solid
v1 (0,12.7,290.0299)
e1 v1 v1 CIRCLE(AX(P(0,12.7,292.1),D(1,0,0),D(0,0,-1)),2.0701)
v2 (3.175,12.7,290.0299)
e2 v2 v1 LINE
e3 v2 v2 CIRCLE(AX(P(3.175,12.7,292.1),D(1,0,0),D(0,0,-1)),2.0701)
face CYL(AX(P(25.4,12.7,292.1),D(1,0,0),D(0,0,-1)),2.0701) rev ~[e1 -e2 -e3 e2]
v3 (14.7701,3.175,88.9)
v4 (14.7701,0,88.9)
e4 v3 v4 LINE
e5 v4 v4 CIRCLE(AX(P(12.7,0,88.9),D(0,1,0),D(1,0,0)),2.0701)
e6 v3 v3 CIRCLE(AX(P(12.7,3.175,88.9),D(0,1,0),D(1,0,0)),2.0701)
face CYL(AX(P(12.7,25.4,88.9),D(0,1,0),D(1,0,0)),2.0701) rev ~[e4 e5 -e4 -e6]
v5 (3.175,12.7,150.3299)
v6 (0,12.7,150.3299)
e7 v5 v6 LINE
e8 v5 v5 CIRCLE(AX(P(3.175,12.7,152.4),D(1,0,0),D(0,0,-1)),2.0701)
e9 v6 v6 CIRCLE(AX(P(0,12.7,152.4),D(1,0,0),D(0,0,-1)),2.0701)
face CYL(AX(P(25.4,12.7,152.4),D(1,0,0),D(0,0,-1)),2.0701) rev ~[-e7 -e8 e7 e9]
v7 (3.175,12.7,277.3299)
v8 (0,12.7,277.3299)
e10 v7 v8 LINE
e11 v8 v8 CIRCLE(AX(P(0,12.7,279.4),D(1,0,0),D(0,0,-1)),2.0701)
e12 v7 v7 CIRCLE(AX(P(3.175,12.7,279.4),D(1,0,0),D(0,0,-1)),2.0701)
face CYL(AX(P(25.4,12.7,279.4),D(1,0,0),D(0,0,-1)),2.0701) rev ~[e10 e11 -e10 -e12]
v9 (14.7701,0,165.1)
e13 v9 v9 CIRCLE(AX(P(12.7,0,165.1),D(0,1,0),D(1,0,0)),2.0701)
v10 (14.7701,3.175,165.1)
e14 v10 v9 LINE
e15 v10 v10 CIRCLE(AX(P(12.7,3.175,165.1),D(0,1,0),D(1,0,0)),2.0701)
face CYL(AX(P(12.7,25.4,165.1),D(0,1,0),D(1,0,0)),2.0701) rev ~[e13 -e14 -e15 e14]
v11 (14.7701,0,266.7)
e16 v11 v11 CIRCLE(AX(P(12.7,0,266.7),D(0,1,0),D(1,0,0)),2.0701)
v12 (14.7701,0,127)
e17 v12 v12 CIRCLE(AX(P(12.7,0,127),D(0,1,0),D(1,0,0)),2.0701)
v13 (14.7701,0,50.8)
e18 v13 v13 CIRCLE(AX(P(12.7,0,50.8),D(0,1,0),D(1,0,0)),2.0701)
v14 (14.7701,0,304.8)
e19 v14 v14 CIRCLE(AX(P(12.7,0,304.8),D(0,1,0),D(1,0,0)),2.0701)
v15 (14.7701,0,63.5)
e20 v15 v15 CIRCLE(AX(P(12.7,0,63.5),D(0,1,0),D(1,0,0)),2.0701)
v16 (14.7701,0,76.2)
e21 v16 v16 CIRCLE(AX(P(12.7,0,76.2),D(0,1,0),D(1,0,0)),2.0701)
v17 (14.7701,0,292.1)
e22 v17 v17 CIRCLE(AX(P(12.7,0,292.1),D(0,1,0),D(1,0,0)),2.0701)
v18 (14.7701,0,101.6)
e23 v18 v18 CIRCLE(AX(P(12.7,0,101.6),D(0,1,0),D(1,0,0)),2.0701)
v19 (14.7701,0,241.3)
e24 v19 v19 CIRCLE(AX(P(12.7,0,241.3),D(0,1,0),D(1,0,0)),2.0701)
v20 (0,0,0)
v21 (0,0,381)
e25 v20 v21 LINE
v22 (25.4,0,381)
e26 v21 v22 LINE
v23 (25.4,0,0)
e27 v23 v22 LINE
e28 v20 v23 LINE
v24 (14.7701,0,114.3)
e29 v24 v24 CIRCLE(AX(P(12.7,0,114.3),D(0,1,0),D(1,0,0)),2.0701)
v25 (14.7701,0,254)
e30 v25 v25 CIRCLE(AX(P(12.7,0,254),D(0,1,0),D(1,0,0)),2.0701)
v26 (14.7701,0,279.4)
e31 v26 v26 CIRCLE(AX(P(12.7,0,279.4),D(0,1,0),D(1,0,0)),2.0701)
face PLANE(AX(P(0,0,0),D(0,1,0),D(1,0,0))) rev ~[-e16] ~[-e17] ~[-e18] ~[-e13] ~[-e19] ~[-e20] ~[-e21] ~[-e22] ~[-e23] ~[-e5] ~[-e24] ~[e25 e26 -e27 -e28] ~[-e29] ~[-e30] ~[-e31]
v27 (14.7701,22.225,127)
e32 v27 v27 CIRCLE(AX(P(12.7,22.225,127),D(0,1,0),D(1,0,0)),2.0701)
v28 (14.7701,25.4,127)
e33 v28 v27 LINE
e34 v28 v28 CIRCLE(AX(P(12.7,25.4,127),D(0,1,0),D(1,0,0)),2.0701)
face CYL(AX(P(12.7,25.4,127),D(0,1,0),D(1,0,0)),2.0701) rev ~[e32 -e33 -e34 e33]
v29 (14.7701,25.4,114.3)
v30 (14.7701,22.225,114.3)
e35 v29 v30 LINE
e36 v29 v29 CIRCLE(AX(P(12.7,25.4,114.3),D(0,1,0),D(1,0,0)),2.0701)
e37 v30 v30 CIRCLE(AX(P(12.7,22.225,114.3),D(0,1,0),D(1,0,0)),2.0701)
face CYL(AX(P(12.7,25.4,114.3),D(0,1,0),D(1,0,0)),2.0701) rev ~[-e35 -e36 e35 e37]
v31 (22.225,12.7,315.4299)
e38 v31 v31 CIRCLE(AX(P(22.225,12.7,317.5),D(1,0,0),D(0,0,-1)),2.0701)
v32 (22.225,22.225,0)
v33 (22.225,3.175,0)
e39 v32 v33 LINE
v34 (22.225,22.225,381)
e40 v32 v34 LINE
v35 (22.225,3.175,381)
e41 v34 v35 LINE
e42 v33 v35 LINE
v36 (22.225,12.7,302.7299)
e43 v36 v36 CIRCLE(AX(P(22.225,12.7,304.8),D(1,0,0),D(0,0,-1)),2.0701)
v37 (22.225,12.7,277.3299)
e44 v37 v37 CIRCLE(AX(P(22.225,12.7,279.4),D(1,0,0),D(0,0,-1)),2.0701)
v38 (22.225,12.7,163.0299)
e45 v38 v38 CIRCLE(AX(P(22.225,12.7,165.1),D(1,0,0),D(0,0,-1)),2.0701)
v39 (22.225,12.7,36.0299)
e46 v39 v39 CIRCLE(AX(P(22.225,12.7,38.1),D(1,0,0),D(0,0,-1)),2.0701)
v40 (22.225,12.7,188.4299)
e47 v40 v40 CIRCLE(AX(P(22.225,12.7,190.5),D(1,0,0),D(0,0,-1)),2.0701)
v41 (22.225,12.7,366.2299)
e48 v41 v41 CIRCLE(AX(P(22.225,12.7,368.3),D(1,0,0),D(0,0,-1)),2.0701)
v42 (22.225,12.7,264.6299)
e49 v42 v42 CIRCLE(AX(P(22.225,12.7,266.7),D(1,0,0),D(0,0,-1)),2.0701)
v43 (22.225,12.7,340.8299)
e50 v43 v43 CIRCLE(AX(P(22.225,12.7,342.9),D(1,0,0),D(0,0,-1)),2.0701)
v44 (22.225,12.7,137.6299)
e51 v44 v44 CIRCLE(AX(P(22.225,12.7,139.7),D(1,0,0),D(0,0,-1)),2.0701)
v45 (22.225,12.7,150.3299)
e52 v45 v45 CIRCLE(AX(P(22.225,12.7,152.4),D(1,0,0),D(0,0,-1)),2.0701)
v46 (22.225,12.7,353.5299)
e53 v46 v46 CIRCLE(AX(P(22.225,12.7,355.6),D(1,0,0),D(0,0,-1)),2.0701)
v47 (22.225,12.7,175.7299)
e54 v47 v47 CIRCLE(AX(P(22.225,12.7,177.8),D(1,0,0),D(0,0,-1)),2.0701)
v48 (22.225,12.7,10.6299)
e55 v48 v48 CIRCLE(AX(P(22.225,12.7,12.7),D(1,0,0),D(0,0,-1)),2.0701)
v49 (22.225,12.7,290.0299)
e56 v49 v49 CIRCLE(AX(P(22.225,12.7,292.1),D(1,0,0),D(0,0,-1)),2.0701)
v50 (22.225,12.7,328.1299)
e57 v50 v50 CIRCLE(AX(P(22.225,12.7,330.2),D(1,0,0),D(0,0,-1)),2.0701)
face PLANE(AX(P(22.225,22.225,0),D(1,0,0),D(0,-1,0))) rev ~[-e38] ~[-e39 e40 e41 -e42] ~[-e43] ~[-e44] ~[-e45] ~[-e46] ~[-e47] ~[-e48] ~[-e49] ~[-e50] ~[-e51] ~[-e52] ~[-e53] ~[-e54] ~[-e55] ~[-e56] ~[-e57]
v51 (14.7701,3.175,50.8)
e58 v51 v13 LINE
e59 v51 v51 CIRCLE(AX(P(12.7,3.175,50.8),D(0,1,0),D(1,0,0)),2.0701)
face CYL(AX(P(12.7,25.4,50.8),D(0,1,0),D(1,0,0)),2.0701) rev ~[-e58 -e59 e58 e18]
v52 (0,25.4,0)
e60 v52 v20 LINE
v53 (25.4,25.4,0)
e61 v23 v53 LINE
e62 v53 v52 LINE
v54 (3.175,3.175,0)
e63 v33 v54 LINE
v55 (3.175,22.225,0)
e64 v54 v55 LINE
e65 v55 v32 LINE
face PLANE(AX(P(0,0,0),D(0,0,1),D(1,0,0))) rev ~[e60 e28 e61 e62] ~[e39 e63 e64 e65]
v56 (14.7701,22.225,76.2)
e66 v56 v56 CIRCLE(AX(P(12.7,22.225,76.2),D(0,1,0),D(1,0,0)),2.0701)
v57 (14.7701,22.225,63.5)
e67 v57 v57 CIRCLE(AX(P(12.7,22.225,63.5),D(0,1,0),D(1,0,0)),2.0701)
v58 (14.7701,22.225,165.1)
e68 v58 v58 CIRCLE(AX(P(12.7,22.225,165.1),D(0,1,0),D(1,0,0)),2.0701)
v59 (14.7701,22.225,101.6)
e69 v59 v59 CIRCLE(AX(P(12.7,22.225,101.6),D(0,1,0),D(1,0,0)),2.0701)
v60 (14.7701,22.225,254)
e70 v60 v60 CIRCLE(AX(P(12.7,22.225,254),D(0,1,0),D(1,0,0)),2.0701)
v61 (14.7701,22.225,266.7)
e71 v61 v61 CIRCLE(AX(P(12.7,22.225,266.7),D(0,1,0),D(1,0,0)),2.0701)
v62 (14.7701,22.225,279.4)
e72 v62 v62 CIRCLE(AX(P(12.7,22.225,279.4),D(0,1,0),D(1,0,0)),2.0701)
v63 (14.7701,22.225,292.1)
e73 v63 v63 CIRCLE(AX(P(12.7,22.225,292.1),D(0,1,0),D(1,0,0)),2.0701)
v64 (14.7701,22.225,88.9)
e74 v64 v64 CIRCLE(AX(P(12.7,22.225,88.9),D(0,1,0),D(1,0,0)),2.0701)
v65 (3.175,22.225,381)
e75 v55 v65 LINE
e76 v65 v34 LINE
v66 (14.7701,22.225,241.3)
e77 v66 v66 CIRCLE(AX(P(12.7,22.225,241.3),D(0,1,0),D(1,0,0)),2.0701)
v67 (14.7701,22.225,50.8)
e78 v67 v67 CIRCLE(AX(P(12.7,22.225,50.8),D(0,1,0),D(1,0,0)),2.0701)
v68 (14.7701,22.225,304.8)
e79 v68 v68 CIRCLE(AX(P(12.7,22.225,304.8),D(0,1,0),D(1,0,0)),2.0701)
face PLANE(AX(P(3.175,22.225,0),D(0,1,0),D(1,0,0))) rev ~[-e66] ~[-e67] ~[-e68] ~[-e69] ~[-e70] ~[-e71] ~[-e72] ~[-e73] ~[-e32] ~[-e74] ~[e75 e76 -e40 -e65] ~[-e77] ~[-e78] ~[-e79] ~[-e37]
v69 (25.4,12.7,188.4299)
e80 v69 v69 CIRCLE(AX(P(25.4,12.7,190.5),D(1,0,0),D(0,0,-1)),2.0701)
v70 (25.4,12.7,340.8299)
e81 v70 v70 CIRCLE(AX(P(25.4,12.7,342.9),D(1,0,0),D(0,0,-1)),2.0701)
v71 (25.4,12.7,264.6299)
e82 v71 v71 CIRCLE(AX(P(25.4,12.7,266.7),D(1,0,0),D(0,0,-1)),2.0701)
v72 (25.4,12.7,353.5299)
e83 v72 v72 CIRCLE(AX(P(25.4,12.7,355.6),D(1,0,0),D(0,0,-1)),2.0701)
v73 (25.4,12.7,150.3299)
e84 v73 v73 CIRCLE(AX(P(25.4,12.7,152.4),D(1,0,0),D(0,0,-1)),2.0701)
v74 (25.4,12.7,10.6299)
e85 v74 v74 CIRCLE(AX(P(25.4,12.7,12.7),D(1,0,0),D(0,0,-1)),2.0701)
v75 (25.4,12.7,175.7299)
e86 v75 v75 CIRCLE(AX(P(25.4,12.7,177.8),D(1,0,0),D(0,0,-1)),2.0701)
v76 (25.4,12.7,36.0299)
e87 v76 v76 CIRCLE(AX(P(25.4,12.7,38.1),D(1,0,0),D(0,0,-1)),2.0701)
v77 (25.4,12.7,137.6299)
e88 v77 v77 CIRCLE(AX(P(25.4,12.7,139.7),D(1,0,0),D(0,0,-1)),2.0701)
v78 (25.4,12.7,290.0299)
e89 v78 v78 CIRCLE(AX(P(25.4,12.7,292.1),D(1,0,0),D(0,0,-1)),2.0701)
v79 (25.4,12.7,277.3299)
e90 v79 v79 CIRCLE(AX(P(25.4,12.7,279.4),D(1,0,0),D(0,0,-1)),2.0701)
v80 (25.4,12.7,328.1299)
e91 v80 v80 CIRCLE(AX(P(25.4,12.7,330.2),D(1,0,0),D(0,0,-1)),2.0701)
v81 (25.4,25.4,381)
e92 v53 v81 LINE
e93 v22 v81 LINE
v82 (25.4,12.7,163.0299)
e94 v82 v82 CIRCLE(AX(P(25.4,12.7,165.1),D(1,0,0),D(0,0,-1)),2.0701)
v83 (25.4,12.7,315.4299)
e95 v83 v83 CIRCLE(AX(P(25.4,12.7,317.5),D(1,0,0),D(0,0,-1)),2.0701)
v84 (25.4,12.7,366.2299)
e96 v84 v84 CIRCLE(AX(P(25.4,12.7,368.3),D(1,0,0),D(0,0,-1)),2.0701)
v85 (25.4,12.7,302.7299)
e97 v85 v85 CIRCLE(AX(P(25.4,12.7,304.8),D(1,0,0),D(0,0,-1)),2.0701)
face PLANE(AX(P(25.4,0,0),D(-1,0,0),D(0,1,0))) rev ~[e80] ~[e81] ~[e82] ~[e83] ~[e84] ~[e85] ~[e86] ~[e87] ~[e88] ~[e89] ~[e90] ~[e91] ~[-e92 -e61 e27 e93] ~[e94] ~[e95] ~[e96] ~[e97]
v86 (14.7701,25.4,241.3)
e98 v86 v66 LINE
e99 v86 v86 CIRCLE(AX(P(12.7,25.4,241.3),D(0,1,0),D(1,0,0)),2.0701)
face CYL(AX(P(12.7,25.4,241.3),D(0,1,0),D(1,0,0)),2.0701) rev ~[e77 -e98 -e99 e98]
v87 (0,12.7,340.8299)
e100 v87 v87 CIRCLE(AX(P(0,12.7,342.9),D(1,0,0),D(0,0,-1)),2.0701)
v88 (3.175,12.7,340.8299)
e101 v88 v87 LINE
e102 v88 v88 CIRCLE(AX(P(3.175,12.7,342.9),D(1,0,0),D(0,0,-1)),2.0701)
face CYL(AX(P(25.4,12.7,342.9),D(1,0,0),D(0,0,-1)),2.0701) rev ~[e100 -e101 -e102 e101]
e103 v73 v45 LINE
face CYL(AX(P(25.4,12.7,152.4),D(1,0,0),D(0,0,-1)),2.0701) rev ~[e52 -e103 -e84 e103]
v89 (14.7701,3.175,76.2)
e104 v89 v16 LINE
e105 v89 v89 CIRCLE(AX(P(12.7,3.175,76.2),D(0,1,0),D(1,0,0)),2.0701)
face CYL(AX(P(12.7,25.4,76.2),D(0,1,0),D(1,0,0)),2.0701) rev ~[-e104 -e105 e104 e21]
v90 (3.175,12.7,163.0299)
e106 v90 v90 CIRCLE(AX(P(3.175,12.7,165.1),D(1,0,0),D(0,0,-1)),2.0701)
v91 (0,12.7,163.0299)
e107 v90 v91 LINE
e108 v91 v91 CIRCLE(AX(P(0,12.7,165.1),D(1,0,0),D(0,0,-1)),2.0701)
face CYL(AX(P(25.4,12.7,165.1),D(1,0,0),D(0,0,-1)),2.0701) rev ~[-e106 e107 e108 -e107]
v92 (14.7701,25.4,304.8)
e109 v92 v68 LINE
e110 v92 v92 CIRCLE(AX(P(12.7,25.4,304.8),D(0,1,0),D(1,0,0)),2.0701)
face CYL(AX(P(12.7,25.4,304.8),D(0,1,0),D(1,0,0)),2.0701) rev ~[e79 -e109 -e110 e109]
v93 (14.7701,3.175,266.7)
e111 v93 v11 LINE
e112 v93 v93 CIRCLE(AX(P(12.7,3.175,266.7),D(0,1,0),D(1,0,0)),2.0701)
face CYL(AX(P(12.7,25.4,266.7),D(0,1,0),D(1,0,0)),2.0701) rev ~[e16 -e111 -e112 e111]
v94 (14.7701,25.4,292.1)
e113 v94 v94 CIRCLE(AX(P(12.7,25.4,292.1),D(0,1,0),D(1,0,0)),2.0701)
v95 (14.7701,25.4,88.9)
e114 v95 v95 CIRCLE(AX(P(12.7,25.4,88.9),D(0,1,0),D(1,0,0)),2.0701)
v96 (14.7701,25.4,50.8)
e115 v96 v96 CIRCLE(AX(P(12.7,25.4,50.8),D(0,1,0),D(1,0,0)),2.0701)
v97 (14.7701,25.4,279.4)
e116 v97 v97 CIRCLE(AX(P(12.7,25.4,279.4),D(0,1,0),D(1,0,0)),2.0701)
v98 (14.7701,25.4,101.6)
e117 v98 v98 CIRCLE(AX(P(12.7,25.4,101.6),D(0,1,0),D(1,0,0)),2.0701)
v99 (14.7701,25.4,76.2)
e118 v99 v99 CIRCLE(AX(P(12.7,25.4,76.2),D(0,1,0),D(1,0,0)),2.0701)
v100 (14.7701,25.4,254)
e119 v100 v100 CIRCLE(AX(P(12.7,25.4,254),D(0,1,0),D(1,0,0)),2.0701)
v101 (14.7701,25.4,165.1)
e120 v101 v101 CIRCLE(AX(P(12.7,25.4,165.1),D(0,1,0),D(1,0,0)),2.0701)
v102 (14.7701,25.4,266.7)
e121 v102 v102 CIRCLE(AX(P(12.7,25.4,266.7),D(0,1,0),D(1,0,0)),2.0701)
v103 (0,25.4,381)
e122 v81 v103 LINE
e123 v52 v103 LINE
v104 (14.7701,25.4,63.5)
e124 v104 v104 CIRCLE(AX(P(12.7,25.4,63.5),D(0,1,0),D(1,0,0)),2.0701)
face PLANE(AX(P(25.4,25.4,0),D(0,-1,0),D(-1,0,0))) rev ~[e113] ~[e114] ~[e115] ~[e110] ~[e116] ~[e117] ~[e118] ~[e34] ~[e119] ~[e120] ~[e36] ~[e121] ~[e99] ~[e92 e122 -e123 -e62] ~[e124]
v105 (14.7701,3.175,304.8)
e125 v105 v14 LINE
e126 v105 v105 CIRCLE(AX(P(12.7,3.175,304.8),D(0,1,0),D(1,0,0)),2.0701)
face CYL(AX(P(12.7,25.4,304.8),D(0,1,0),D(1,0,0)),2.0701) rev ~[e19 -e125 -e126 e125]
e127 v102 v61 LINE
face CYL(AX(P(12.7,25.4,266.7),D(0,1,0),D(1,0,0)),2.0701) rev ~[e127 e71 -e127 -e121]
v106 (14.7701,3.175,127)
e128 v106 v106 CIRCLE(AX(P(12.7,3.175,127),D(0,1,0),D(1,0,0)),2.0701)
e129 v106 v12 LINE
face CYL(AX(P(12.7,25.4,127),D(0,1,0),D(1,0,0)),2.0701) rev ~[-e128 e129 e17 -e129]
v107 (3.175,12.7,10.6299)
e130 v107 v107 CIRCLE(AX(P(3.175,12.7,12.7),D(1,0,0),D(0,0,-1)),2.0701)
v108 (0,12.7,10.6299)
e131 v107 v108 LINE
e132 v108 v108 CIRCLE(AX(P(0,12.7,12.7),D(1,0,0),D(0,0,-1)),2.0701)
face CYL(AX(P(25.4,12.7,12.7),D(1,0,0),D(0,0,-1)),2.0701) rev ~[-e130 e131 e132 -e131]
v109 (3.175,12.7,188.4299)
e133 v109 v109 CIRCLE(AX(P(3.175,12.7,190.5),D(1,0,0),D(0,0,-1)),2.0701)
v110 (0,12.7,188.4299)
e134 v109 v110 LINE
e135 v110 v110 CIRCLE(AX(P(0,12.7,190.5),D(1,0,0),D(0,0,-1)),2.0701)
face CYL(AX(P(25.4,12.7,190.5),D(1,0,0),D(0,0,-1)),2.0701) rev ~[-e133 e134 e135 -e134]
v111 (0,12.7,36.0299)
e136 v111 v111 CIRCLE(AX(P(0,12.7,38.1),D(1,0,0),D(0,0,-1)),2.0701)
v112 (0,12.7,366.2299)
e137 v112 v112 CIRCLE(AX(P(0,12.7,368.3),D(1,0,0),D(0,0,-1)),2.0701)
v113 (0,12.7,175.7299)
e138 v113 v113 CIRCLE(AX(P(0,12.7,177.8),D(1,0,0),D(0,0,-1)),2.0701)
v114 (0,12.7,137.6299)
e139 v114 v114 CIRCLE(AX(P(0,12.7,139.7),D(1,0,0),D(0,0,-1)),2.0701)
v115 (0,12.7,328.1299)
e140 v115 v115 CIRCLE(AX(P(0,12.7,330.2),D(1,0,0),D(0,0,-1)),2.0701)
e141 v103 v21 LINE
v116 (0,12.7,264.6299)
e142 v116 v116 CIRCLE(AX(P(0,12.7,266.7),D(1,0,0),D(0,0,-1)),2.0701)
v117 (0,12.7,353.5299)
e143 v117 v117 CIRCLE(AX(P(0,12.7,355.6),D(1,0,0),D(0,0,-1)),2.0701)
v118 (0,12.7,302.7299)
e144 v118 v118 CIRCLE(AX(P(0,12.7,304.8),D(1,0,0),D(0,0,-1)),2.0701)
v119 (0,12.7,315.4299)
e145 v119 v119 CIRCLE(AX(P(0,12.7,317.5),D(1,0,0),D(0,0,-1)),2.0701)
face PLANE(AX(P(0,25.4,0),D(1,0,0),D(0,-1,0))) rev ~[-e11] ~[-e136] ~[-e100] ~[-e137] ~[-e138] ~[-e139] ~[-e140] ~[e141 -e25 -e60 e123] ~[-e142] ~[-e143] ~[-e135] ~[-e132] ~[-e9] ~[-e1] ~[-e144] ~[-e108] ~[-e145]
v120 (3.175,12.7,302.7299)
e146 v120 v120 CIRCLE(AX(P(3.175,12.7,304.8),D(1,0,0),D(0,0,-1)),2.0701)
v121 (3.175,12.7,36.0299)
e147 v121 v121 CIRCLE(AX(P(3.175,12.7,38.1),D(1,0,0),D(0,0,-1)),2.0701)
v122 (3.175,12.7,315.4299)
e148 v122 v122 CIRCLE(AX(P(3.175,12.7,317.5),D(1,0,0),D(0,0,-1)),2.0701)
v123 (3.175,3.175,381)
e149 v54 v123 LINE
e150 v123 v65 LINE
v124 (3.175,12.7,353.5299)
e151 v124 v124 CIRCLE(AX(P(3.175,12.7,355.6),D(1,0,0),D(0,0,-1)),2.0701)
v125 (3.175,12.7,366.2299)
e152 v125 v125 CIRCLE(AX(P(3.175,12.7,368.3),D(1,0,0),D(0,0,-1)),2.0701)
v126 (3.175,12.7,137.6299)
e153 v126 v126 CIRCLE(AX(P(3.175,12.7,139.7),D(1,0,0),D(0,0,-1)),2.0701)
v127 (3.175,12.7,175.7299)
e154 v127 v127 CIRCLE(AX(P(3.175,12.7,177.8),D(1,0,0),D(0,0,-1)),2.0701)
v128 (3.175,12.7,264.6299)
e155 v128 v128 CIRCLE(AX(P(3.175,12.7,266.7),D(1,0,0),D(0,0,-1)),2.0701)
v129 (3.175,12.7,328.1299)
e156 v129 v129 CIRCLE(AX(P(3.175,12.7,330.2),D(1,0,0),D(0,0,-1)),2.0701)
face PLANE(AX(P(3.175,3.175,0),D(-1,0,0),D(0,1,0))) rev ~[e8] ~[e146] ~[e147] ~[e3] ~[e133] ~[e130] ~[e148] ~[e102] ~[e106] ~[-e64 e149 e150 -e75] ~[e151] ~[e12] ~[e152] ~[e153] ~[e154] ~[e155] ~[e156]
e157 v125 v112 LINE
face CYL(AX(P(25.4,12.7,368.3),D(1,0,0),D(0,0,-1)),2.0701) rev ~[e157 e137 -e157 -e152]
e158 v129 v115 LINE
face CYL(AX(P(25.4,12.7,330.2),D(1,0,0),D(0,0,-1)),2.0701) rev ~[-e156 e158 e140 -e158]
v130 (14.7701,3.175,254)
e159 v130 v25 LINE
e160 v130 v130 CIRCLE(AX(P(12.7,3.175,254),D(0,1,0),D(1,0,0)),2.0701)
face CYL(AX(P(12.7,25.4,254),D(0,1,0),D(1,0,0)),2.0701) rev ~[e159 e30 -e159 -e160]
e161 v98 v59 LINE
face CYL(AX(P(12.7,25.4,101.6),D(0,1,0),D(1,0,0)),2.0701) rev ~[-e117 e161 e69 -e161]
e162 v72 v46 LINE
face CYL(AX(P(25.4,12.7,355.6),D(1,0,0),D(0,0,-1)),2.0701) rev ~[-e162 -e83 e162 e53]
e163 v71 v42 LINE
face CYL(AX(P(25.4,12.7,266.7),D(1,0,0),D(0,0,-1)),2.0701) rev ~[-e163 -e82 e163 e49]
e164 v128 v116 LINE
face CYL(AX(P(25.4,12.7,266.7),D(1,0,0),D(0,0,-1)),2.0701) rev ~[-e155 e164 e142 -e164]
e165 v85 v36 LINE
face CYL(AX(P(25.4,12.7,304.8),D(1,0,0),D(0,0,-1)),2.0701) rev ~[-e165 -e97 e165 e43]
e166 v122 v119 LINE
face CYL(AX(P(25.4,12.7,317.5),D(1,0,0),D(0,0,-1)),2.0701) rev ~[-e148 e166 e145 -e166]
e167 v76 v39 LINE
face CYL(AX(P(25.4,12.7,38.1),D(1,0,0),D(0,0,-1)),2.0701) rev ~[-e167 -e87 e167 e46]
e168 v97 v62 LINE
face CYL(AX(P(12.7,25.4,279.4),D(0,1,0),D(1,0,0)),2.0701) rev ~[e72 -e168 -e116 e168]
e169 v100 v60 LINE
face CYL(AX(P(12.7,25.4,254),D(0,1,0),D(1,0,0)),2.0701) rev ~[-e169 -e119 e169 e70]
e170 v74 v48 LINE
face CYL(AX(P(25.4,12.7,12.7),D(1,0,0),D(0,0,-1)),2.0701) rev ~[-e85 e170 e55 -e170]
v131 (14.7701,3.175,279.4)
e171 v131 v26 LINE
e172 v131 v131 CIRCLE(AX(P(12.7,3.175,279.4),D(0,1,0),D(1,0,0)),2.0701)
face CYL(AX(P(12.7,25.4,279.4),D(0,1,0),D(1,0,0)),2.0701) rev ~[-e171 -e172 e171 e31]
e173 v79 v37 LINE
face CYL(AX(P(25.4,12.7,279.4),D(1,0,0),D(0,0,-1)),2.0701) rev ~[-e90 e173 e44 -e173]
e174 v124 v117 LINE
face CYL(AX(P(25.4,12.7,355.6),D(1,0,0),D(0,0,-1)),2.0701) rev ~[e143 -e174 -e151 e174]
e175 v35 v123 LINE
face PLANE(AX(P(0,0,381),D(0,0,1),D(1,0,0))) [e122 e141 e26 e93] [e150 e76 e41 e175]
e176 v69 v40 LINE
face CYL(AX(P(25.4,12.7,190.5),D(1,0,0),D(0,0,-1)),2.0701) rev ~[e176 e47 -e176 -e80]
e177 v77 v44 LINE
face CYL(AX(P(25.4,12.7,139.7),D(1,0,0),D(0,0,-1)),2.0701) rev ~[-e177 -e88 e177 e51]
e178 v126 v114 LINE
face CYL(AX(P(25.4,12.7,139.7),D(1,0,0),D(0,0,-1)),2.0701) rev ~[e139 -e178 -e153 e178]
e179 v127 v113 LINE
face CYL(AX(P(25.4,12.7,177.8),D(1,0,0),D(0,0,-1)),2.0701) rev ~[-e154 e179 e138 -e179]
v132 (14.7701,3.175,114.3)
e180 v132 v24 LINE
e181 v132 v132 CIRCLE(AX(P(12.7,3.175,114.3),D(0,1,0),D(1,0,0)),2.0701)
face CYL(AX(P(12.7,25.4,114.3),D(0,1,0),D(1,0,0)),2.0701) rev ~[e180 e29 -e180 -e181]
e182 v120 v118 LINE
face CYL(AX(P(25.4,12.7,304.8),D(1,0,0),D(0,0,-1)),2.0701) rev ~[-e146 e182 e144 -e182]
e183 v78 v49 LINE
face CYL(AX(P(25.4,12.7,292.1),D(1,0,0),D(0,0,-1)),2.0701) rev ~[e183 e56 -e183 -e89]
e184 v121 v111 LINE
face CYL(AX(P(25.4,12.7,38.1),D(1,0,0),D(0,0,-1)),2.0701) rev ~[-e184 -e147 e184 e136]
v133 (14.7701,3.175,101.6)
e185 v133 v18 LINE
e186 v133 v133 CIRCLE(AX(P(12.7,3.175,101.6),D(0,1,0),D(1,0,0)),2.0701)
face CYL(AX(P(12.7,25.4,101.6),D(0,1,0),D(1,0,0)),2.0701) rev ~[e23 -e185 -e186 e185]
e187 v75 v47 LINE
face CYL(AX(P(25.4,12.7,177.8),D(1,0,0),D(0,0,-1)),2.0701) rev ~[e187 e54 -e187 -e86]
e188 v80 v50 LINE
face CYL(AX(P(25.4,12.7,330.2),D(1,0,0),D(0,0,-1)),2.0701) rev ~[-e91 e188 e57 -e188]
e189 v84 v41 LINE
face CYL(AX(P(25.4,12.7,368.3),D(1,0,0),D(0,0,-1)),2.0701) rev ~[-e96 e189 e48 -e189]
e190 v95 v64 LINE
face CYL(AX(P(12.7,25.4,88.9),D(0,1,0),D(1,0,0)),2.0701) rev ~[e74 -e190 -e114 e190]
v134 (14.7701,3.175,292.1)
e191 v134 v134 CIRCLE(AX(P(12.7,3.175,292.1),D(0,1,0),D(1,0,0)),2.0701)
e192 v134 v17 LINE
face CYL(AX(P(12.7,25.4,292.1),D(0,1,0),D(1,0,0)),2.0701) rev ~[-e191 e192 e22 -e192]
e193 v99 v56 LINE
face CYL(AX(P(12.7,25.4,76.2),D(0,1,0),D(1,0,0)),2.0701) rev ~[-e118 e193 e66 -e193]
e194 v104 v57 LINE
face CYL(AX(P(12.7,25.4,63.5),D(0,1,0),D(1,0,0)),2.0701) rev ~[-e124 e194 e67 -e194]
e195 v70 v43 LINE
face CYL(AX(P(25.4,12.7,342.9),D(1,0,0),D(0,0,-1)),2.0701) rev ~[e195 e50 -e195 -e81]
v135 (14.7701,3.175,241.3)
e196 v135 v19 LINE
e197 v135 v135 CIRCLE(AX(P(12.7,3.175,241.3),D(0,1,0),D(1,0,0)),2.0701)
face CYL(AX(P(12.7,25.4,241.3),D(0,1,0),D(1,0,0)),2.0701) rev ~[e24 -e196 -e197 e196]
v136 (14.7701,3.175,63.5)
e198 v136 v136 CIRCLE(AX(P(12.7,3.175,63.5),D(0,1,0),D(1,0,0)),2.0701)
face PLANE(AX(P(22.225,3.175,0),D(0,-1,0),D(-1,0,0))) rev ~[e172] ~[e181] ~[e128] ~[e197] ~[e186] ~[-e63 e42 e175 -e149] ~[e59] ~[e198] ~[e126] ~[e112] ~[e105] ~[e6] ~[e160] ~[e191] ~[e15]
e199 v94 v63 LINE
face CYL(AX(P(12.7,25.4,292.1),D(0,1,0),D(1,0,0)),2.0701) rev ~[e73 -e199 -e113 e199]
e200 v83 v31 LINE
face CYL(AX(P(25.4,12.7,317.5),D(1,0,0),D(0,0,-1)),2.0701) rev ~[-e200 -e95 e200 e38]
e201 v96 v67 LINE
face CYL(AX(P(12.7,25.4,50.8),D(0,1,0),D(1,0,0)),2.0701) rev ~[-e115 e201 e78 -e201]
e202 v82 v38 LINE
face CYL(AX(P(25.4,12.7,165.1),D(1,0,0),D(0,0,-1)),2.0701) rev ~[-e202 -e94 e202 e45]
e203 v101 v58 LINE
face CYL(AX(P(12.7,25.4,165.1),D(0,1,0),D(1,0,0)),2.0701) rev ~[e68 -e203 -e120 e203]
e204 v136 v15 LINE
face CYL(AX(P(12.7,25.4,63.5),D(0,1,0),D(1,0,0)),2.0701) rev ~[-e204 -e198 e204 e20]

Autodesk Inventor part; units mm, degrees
ref_plane "YZ Plane" through (0, 0, 0) normal (1, 0, 0) x (0, 1, 0)
ref_plane "XZ Plane" through (0, 0, 0) normal (0, 1, 0) x (-1, 0, 0)
ref_plane "XY Plane" through (0, 0, 0) normal (0, 0, 1) x (1, 0, 0)
sketch "Sketch1" plane through (0, 0, 0) normal (0, 0, 1) x (1, 0, 0)
  line L0 (0, 0) -> (25.4, 0)
  line L1 (25.4, 0) -> (25.4, 25.4)
  line L2 (25.4, 25.4) -> (0, 25.4)
  line L3 (0, 25.4) -> (0, 0)
  line L4 (3.175, 22.225) -> (22.225, 22.225)
  line L5 (22.225, 22.225) -> (22.225, 3.175)
  line L6 (22.225, 3.175) -> (3.175, 3.175)
  line L7 (3.175, 3.175) -> (3.175, 22.225)
  dimension "d0" = 25.4
  dimension "d1" = 25.4
  dimension "d2" = 3.175
extrude "Extrusion1" add sketch "Sketch1" along normal blind 381
sketch "Sketch2" plane through (25.4, 0, 0) normal (1, 0, 0) x (0, 0, -1)
  line L0 (0, 0) -> (0, 25.4) projected
  line L1 (-381, 0) -> (-381, 25.4) projected
  line L2 (0, 0) -> (-381, 0) projected
  circle A0 centre (-368.3, 12.7) radius 2.0701
  circle A1 centre (-355.6, 12.7) radius 2.0701
  circle A2 centre (-342.9, 12.7) radius 2.0701
  circle A3 centre (-330.2, 12.7) radius 2.0701
  circle A4 centre (-317.5, 12.7) radius 2.0701
  circle A5 centre (-304.8, 12.7) radius 2.0701
  circle A6 centre (-292.1, 12.7) radius 2.0701
  circle A7 centre (-279.4, 12.7) radius 2.0701
  circle A8 centre (-266.7, 12.7) radius 2.0701
  circle A9 centre (-190.5, 12.7) radius 2.0701
  circle A10 centre (-177.8, 12.7) radius 2.0701
  circle A11 centre (-165.1, 12.7) radius 2.0701
  circle A12 centre (-152.4, 12.7) radius 2.0701
  circle A13 centre (-139.7, 12.7) radius 2.0701
  circle A14 centre (-12.7, 12.7) radius 2.0701
  circle A15 centre (-38.1, 12.7) radius 2.0701
  dimension "d5" = 4.1402
  dimension "d6" = 12.7
  dimension "d7" = 12.7
  dimension "d10" = 12.7
  dimension "d15" = 76.2
  dimension "d16" = 12.7
  dimension "d19" = 12.7
  dimension "d24" = 12.7
  dimension "d25" = 12.7
  dimension "d28" = 25.4
extrude "Extrusion2" cut sketch "Sketch2" against normal blind 381
sketch "Sketch3" plane through (0, 25.4, 0) normal (0, 1, 0) x (1, 0, 0)
  line L0 (25.4, 0) -> (0, 0) projected
  line L1 (25.4, -381) -> (0, -381) projected
  line L2 (25.4, 0) -> (25.4, -381) projected
  circle A0 centre (12.7, -304.8) radius 2.0701
  circle A1 centre (12.7, -292.1) radius 2.0701
  circle A2 centre (12.7, -279.4) radius 2.0701
  circle A3 centre (12.7, -266.7) radius 2.0701
  circle A4 centre (12.7, -254) radius 2.0701
  circle A5 centre (12.7, -241.3) radius 2.0701
  circle A6 centre (12.7, -50.8) radius 2.0701
  circle A7 centre (12.7, -63.5) radius 2.0701
  circle A8 centre (12.7, -76.2) radius 2.0701
  circle A9 centre (12.7, -88.9) radius 2.0701
  circle A10 centre (12.7, -101.6) radius 2.0701
  circle A11 centre (12.7, -114.3) radius 2.0701
  circle A12 centre (12.7, -127) radius 2.0701
  circle A13 centre (12.7, -165.1) radius 2.0701
  dimension "d35" = 4.1402
  dimension "d36" = 76.2
  dimension "d37" = 12.7
  dimension "d40" = 12.7
  dimension "d45" = 50.8
  dimension "d46" = 12.7
  dimension "d49" = 12.7
  dimension "d54" = 38.1
  dimension "d55" = 12.7
extrude "Extrusion3" cut sketch "Sketch3" against normal blind 381
properties part number "Vertical 15 in Segments (2)"
